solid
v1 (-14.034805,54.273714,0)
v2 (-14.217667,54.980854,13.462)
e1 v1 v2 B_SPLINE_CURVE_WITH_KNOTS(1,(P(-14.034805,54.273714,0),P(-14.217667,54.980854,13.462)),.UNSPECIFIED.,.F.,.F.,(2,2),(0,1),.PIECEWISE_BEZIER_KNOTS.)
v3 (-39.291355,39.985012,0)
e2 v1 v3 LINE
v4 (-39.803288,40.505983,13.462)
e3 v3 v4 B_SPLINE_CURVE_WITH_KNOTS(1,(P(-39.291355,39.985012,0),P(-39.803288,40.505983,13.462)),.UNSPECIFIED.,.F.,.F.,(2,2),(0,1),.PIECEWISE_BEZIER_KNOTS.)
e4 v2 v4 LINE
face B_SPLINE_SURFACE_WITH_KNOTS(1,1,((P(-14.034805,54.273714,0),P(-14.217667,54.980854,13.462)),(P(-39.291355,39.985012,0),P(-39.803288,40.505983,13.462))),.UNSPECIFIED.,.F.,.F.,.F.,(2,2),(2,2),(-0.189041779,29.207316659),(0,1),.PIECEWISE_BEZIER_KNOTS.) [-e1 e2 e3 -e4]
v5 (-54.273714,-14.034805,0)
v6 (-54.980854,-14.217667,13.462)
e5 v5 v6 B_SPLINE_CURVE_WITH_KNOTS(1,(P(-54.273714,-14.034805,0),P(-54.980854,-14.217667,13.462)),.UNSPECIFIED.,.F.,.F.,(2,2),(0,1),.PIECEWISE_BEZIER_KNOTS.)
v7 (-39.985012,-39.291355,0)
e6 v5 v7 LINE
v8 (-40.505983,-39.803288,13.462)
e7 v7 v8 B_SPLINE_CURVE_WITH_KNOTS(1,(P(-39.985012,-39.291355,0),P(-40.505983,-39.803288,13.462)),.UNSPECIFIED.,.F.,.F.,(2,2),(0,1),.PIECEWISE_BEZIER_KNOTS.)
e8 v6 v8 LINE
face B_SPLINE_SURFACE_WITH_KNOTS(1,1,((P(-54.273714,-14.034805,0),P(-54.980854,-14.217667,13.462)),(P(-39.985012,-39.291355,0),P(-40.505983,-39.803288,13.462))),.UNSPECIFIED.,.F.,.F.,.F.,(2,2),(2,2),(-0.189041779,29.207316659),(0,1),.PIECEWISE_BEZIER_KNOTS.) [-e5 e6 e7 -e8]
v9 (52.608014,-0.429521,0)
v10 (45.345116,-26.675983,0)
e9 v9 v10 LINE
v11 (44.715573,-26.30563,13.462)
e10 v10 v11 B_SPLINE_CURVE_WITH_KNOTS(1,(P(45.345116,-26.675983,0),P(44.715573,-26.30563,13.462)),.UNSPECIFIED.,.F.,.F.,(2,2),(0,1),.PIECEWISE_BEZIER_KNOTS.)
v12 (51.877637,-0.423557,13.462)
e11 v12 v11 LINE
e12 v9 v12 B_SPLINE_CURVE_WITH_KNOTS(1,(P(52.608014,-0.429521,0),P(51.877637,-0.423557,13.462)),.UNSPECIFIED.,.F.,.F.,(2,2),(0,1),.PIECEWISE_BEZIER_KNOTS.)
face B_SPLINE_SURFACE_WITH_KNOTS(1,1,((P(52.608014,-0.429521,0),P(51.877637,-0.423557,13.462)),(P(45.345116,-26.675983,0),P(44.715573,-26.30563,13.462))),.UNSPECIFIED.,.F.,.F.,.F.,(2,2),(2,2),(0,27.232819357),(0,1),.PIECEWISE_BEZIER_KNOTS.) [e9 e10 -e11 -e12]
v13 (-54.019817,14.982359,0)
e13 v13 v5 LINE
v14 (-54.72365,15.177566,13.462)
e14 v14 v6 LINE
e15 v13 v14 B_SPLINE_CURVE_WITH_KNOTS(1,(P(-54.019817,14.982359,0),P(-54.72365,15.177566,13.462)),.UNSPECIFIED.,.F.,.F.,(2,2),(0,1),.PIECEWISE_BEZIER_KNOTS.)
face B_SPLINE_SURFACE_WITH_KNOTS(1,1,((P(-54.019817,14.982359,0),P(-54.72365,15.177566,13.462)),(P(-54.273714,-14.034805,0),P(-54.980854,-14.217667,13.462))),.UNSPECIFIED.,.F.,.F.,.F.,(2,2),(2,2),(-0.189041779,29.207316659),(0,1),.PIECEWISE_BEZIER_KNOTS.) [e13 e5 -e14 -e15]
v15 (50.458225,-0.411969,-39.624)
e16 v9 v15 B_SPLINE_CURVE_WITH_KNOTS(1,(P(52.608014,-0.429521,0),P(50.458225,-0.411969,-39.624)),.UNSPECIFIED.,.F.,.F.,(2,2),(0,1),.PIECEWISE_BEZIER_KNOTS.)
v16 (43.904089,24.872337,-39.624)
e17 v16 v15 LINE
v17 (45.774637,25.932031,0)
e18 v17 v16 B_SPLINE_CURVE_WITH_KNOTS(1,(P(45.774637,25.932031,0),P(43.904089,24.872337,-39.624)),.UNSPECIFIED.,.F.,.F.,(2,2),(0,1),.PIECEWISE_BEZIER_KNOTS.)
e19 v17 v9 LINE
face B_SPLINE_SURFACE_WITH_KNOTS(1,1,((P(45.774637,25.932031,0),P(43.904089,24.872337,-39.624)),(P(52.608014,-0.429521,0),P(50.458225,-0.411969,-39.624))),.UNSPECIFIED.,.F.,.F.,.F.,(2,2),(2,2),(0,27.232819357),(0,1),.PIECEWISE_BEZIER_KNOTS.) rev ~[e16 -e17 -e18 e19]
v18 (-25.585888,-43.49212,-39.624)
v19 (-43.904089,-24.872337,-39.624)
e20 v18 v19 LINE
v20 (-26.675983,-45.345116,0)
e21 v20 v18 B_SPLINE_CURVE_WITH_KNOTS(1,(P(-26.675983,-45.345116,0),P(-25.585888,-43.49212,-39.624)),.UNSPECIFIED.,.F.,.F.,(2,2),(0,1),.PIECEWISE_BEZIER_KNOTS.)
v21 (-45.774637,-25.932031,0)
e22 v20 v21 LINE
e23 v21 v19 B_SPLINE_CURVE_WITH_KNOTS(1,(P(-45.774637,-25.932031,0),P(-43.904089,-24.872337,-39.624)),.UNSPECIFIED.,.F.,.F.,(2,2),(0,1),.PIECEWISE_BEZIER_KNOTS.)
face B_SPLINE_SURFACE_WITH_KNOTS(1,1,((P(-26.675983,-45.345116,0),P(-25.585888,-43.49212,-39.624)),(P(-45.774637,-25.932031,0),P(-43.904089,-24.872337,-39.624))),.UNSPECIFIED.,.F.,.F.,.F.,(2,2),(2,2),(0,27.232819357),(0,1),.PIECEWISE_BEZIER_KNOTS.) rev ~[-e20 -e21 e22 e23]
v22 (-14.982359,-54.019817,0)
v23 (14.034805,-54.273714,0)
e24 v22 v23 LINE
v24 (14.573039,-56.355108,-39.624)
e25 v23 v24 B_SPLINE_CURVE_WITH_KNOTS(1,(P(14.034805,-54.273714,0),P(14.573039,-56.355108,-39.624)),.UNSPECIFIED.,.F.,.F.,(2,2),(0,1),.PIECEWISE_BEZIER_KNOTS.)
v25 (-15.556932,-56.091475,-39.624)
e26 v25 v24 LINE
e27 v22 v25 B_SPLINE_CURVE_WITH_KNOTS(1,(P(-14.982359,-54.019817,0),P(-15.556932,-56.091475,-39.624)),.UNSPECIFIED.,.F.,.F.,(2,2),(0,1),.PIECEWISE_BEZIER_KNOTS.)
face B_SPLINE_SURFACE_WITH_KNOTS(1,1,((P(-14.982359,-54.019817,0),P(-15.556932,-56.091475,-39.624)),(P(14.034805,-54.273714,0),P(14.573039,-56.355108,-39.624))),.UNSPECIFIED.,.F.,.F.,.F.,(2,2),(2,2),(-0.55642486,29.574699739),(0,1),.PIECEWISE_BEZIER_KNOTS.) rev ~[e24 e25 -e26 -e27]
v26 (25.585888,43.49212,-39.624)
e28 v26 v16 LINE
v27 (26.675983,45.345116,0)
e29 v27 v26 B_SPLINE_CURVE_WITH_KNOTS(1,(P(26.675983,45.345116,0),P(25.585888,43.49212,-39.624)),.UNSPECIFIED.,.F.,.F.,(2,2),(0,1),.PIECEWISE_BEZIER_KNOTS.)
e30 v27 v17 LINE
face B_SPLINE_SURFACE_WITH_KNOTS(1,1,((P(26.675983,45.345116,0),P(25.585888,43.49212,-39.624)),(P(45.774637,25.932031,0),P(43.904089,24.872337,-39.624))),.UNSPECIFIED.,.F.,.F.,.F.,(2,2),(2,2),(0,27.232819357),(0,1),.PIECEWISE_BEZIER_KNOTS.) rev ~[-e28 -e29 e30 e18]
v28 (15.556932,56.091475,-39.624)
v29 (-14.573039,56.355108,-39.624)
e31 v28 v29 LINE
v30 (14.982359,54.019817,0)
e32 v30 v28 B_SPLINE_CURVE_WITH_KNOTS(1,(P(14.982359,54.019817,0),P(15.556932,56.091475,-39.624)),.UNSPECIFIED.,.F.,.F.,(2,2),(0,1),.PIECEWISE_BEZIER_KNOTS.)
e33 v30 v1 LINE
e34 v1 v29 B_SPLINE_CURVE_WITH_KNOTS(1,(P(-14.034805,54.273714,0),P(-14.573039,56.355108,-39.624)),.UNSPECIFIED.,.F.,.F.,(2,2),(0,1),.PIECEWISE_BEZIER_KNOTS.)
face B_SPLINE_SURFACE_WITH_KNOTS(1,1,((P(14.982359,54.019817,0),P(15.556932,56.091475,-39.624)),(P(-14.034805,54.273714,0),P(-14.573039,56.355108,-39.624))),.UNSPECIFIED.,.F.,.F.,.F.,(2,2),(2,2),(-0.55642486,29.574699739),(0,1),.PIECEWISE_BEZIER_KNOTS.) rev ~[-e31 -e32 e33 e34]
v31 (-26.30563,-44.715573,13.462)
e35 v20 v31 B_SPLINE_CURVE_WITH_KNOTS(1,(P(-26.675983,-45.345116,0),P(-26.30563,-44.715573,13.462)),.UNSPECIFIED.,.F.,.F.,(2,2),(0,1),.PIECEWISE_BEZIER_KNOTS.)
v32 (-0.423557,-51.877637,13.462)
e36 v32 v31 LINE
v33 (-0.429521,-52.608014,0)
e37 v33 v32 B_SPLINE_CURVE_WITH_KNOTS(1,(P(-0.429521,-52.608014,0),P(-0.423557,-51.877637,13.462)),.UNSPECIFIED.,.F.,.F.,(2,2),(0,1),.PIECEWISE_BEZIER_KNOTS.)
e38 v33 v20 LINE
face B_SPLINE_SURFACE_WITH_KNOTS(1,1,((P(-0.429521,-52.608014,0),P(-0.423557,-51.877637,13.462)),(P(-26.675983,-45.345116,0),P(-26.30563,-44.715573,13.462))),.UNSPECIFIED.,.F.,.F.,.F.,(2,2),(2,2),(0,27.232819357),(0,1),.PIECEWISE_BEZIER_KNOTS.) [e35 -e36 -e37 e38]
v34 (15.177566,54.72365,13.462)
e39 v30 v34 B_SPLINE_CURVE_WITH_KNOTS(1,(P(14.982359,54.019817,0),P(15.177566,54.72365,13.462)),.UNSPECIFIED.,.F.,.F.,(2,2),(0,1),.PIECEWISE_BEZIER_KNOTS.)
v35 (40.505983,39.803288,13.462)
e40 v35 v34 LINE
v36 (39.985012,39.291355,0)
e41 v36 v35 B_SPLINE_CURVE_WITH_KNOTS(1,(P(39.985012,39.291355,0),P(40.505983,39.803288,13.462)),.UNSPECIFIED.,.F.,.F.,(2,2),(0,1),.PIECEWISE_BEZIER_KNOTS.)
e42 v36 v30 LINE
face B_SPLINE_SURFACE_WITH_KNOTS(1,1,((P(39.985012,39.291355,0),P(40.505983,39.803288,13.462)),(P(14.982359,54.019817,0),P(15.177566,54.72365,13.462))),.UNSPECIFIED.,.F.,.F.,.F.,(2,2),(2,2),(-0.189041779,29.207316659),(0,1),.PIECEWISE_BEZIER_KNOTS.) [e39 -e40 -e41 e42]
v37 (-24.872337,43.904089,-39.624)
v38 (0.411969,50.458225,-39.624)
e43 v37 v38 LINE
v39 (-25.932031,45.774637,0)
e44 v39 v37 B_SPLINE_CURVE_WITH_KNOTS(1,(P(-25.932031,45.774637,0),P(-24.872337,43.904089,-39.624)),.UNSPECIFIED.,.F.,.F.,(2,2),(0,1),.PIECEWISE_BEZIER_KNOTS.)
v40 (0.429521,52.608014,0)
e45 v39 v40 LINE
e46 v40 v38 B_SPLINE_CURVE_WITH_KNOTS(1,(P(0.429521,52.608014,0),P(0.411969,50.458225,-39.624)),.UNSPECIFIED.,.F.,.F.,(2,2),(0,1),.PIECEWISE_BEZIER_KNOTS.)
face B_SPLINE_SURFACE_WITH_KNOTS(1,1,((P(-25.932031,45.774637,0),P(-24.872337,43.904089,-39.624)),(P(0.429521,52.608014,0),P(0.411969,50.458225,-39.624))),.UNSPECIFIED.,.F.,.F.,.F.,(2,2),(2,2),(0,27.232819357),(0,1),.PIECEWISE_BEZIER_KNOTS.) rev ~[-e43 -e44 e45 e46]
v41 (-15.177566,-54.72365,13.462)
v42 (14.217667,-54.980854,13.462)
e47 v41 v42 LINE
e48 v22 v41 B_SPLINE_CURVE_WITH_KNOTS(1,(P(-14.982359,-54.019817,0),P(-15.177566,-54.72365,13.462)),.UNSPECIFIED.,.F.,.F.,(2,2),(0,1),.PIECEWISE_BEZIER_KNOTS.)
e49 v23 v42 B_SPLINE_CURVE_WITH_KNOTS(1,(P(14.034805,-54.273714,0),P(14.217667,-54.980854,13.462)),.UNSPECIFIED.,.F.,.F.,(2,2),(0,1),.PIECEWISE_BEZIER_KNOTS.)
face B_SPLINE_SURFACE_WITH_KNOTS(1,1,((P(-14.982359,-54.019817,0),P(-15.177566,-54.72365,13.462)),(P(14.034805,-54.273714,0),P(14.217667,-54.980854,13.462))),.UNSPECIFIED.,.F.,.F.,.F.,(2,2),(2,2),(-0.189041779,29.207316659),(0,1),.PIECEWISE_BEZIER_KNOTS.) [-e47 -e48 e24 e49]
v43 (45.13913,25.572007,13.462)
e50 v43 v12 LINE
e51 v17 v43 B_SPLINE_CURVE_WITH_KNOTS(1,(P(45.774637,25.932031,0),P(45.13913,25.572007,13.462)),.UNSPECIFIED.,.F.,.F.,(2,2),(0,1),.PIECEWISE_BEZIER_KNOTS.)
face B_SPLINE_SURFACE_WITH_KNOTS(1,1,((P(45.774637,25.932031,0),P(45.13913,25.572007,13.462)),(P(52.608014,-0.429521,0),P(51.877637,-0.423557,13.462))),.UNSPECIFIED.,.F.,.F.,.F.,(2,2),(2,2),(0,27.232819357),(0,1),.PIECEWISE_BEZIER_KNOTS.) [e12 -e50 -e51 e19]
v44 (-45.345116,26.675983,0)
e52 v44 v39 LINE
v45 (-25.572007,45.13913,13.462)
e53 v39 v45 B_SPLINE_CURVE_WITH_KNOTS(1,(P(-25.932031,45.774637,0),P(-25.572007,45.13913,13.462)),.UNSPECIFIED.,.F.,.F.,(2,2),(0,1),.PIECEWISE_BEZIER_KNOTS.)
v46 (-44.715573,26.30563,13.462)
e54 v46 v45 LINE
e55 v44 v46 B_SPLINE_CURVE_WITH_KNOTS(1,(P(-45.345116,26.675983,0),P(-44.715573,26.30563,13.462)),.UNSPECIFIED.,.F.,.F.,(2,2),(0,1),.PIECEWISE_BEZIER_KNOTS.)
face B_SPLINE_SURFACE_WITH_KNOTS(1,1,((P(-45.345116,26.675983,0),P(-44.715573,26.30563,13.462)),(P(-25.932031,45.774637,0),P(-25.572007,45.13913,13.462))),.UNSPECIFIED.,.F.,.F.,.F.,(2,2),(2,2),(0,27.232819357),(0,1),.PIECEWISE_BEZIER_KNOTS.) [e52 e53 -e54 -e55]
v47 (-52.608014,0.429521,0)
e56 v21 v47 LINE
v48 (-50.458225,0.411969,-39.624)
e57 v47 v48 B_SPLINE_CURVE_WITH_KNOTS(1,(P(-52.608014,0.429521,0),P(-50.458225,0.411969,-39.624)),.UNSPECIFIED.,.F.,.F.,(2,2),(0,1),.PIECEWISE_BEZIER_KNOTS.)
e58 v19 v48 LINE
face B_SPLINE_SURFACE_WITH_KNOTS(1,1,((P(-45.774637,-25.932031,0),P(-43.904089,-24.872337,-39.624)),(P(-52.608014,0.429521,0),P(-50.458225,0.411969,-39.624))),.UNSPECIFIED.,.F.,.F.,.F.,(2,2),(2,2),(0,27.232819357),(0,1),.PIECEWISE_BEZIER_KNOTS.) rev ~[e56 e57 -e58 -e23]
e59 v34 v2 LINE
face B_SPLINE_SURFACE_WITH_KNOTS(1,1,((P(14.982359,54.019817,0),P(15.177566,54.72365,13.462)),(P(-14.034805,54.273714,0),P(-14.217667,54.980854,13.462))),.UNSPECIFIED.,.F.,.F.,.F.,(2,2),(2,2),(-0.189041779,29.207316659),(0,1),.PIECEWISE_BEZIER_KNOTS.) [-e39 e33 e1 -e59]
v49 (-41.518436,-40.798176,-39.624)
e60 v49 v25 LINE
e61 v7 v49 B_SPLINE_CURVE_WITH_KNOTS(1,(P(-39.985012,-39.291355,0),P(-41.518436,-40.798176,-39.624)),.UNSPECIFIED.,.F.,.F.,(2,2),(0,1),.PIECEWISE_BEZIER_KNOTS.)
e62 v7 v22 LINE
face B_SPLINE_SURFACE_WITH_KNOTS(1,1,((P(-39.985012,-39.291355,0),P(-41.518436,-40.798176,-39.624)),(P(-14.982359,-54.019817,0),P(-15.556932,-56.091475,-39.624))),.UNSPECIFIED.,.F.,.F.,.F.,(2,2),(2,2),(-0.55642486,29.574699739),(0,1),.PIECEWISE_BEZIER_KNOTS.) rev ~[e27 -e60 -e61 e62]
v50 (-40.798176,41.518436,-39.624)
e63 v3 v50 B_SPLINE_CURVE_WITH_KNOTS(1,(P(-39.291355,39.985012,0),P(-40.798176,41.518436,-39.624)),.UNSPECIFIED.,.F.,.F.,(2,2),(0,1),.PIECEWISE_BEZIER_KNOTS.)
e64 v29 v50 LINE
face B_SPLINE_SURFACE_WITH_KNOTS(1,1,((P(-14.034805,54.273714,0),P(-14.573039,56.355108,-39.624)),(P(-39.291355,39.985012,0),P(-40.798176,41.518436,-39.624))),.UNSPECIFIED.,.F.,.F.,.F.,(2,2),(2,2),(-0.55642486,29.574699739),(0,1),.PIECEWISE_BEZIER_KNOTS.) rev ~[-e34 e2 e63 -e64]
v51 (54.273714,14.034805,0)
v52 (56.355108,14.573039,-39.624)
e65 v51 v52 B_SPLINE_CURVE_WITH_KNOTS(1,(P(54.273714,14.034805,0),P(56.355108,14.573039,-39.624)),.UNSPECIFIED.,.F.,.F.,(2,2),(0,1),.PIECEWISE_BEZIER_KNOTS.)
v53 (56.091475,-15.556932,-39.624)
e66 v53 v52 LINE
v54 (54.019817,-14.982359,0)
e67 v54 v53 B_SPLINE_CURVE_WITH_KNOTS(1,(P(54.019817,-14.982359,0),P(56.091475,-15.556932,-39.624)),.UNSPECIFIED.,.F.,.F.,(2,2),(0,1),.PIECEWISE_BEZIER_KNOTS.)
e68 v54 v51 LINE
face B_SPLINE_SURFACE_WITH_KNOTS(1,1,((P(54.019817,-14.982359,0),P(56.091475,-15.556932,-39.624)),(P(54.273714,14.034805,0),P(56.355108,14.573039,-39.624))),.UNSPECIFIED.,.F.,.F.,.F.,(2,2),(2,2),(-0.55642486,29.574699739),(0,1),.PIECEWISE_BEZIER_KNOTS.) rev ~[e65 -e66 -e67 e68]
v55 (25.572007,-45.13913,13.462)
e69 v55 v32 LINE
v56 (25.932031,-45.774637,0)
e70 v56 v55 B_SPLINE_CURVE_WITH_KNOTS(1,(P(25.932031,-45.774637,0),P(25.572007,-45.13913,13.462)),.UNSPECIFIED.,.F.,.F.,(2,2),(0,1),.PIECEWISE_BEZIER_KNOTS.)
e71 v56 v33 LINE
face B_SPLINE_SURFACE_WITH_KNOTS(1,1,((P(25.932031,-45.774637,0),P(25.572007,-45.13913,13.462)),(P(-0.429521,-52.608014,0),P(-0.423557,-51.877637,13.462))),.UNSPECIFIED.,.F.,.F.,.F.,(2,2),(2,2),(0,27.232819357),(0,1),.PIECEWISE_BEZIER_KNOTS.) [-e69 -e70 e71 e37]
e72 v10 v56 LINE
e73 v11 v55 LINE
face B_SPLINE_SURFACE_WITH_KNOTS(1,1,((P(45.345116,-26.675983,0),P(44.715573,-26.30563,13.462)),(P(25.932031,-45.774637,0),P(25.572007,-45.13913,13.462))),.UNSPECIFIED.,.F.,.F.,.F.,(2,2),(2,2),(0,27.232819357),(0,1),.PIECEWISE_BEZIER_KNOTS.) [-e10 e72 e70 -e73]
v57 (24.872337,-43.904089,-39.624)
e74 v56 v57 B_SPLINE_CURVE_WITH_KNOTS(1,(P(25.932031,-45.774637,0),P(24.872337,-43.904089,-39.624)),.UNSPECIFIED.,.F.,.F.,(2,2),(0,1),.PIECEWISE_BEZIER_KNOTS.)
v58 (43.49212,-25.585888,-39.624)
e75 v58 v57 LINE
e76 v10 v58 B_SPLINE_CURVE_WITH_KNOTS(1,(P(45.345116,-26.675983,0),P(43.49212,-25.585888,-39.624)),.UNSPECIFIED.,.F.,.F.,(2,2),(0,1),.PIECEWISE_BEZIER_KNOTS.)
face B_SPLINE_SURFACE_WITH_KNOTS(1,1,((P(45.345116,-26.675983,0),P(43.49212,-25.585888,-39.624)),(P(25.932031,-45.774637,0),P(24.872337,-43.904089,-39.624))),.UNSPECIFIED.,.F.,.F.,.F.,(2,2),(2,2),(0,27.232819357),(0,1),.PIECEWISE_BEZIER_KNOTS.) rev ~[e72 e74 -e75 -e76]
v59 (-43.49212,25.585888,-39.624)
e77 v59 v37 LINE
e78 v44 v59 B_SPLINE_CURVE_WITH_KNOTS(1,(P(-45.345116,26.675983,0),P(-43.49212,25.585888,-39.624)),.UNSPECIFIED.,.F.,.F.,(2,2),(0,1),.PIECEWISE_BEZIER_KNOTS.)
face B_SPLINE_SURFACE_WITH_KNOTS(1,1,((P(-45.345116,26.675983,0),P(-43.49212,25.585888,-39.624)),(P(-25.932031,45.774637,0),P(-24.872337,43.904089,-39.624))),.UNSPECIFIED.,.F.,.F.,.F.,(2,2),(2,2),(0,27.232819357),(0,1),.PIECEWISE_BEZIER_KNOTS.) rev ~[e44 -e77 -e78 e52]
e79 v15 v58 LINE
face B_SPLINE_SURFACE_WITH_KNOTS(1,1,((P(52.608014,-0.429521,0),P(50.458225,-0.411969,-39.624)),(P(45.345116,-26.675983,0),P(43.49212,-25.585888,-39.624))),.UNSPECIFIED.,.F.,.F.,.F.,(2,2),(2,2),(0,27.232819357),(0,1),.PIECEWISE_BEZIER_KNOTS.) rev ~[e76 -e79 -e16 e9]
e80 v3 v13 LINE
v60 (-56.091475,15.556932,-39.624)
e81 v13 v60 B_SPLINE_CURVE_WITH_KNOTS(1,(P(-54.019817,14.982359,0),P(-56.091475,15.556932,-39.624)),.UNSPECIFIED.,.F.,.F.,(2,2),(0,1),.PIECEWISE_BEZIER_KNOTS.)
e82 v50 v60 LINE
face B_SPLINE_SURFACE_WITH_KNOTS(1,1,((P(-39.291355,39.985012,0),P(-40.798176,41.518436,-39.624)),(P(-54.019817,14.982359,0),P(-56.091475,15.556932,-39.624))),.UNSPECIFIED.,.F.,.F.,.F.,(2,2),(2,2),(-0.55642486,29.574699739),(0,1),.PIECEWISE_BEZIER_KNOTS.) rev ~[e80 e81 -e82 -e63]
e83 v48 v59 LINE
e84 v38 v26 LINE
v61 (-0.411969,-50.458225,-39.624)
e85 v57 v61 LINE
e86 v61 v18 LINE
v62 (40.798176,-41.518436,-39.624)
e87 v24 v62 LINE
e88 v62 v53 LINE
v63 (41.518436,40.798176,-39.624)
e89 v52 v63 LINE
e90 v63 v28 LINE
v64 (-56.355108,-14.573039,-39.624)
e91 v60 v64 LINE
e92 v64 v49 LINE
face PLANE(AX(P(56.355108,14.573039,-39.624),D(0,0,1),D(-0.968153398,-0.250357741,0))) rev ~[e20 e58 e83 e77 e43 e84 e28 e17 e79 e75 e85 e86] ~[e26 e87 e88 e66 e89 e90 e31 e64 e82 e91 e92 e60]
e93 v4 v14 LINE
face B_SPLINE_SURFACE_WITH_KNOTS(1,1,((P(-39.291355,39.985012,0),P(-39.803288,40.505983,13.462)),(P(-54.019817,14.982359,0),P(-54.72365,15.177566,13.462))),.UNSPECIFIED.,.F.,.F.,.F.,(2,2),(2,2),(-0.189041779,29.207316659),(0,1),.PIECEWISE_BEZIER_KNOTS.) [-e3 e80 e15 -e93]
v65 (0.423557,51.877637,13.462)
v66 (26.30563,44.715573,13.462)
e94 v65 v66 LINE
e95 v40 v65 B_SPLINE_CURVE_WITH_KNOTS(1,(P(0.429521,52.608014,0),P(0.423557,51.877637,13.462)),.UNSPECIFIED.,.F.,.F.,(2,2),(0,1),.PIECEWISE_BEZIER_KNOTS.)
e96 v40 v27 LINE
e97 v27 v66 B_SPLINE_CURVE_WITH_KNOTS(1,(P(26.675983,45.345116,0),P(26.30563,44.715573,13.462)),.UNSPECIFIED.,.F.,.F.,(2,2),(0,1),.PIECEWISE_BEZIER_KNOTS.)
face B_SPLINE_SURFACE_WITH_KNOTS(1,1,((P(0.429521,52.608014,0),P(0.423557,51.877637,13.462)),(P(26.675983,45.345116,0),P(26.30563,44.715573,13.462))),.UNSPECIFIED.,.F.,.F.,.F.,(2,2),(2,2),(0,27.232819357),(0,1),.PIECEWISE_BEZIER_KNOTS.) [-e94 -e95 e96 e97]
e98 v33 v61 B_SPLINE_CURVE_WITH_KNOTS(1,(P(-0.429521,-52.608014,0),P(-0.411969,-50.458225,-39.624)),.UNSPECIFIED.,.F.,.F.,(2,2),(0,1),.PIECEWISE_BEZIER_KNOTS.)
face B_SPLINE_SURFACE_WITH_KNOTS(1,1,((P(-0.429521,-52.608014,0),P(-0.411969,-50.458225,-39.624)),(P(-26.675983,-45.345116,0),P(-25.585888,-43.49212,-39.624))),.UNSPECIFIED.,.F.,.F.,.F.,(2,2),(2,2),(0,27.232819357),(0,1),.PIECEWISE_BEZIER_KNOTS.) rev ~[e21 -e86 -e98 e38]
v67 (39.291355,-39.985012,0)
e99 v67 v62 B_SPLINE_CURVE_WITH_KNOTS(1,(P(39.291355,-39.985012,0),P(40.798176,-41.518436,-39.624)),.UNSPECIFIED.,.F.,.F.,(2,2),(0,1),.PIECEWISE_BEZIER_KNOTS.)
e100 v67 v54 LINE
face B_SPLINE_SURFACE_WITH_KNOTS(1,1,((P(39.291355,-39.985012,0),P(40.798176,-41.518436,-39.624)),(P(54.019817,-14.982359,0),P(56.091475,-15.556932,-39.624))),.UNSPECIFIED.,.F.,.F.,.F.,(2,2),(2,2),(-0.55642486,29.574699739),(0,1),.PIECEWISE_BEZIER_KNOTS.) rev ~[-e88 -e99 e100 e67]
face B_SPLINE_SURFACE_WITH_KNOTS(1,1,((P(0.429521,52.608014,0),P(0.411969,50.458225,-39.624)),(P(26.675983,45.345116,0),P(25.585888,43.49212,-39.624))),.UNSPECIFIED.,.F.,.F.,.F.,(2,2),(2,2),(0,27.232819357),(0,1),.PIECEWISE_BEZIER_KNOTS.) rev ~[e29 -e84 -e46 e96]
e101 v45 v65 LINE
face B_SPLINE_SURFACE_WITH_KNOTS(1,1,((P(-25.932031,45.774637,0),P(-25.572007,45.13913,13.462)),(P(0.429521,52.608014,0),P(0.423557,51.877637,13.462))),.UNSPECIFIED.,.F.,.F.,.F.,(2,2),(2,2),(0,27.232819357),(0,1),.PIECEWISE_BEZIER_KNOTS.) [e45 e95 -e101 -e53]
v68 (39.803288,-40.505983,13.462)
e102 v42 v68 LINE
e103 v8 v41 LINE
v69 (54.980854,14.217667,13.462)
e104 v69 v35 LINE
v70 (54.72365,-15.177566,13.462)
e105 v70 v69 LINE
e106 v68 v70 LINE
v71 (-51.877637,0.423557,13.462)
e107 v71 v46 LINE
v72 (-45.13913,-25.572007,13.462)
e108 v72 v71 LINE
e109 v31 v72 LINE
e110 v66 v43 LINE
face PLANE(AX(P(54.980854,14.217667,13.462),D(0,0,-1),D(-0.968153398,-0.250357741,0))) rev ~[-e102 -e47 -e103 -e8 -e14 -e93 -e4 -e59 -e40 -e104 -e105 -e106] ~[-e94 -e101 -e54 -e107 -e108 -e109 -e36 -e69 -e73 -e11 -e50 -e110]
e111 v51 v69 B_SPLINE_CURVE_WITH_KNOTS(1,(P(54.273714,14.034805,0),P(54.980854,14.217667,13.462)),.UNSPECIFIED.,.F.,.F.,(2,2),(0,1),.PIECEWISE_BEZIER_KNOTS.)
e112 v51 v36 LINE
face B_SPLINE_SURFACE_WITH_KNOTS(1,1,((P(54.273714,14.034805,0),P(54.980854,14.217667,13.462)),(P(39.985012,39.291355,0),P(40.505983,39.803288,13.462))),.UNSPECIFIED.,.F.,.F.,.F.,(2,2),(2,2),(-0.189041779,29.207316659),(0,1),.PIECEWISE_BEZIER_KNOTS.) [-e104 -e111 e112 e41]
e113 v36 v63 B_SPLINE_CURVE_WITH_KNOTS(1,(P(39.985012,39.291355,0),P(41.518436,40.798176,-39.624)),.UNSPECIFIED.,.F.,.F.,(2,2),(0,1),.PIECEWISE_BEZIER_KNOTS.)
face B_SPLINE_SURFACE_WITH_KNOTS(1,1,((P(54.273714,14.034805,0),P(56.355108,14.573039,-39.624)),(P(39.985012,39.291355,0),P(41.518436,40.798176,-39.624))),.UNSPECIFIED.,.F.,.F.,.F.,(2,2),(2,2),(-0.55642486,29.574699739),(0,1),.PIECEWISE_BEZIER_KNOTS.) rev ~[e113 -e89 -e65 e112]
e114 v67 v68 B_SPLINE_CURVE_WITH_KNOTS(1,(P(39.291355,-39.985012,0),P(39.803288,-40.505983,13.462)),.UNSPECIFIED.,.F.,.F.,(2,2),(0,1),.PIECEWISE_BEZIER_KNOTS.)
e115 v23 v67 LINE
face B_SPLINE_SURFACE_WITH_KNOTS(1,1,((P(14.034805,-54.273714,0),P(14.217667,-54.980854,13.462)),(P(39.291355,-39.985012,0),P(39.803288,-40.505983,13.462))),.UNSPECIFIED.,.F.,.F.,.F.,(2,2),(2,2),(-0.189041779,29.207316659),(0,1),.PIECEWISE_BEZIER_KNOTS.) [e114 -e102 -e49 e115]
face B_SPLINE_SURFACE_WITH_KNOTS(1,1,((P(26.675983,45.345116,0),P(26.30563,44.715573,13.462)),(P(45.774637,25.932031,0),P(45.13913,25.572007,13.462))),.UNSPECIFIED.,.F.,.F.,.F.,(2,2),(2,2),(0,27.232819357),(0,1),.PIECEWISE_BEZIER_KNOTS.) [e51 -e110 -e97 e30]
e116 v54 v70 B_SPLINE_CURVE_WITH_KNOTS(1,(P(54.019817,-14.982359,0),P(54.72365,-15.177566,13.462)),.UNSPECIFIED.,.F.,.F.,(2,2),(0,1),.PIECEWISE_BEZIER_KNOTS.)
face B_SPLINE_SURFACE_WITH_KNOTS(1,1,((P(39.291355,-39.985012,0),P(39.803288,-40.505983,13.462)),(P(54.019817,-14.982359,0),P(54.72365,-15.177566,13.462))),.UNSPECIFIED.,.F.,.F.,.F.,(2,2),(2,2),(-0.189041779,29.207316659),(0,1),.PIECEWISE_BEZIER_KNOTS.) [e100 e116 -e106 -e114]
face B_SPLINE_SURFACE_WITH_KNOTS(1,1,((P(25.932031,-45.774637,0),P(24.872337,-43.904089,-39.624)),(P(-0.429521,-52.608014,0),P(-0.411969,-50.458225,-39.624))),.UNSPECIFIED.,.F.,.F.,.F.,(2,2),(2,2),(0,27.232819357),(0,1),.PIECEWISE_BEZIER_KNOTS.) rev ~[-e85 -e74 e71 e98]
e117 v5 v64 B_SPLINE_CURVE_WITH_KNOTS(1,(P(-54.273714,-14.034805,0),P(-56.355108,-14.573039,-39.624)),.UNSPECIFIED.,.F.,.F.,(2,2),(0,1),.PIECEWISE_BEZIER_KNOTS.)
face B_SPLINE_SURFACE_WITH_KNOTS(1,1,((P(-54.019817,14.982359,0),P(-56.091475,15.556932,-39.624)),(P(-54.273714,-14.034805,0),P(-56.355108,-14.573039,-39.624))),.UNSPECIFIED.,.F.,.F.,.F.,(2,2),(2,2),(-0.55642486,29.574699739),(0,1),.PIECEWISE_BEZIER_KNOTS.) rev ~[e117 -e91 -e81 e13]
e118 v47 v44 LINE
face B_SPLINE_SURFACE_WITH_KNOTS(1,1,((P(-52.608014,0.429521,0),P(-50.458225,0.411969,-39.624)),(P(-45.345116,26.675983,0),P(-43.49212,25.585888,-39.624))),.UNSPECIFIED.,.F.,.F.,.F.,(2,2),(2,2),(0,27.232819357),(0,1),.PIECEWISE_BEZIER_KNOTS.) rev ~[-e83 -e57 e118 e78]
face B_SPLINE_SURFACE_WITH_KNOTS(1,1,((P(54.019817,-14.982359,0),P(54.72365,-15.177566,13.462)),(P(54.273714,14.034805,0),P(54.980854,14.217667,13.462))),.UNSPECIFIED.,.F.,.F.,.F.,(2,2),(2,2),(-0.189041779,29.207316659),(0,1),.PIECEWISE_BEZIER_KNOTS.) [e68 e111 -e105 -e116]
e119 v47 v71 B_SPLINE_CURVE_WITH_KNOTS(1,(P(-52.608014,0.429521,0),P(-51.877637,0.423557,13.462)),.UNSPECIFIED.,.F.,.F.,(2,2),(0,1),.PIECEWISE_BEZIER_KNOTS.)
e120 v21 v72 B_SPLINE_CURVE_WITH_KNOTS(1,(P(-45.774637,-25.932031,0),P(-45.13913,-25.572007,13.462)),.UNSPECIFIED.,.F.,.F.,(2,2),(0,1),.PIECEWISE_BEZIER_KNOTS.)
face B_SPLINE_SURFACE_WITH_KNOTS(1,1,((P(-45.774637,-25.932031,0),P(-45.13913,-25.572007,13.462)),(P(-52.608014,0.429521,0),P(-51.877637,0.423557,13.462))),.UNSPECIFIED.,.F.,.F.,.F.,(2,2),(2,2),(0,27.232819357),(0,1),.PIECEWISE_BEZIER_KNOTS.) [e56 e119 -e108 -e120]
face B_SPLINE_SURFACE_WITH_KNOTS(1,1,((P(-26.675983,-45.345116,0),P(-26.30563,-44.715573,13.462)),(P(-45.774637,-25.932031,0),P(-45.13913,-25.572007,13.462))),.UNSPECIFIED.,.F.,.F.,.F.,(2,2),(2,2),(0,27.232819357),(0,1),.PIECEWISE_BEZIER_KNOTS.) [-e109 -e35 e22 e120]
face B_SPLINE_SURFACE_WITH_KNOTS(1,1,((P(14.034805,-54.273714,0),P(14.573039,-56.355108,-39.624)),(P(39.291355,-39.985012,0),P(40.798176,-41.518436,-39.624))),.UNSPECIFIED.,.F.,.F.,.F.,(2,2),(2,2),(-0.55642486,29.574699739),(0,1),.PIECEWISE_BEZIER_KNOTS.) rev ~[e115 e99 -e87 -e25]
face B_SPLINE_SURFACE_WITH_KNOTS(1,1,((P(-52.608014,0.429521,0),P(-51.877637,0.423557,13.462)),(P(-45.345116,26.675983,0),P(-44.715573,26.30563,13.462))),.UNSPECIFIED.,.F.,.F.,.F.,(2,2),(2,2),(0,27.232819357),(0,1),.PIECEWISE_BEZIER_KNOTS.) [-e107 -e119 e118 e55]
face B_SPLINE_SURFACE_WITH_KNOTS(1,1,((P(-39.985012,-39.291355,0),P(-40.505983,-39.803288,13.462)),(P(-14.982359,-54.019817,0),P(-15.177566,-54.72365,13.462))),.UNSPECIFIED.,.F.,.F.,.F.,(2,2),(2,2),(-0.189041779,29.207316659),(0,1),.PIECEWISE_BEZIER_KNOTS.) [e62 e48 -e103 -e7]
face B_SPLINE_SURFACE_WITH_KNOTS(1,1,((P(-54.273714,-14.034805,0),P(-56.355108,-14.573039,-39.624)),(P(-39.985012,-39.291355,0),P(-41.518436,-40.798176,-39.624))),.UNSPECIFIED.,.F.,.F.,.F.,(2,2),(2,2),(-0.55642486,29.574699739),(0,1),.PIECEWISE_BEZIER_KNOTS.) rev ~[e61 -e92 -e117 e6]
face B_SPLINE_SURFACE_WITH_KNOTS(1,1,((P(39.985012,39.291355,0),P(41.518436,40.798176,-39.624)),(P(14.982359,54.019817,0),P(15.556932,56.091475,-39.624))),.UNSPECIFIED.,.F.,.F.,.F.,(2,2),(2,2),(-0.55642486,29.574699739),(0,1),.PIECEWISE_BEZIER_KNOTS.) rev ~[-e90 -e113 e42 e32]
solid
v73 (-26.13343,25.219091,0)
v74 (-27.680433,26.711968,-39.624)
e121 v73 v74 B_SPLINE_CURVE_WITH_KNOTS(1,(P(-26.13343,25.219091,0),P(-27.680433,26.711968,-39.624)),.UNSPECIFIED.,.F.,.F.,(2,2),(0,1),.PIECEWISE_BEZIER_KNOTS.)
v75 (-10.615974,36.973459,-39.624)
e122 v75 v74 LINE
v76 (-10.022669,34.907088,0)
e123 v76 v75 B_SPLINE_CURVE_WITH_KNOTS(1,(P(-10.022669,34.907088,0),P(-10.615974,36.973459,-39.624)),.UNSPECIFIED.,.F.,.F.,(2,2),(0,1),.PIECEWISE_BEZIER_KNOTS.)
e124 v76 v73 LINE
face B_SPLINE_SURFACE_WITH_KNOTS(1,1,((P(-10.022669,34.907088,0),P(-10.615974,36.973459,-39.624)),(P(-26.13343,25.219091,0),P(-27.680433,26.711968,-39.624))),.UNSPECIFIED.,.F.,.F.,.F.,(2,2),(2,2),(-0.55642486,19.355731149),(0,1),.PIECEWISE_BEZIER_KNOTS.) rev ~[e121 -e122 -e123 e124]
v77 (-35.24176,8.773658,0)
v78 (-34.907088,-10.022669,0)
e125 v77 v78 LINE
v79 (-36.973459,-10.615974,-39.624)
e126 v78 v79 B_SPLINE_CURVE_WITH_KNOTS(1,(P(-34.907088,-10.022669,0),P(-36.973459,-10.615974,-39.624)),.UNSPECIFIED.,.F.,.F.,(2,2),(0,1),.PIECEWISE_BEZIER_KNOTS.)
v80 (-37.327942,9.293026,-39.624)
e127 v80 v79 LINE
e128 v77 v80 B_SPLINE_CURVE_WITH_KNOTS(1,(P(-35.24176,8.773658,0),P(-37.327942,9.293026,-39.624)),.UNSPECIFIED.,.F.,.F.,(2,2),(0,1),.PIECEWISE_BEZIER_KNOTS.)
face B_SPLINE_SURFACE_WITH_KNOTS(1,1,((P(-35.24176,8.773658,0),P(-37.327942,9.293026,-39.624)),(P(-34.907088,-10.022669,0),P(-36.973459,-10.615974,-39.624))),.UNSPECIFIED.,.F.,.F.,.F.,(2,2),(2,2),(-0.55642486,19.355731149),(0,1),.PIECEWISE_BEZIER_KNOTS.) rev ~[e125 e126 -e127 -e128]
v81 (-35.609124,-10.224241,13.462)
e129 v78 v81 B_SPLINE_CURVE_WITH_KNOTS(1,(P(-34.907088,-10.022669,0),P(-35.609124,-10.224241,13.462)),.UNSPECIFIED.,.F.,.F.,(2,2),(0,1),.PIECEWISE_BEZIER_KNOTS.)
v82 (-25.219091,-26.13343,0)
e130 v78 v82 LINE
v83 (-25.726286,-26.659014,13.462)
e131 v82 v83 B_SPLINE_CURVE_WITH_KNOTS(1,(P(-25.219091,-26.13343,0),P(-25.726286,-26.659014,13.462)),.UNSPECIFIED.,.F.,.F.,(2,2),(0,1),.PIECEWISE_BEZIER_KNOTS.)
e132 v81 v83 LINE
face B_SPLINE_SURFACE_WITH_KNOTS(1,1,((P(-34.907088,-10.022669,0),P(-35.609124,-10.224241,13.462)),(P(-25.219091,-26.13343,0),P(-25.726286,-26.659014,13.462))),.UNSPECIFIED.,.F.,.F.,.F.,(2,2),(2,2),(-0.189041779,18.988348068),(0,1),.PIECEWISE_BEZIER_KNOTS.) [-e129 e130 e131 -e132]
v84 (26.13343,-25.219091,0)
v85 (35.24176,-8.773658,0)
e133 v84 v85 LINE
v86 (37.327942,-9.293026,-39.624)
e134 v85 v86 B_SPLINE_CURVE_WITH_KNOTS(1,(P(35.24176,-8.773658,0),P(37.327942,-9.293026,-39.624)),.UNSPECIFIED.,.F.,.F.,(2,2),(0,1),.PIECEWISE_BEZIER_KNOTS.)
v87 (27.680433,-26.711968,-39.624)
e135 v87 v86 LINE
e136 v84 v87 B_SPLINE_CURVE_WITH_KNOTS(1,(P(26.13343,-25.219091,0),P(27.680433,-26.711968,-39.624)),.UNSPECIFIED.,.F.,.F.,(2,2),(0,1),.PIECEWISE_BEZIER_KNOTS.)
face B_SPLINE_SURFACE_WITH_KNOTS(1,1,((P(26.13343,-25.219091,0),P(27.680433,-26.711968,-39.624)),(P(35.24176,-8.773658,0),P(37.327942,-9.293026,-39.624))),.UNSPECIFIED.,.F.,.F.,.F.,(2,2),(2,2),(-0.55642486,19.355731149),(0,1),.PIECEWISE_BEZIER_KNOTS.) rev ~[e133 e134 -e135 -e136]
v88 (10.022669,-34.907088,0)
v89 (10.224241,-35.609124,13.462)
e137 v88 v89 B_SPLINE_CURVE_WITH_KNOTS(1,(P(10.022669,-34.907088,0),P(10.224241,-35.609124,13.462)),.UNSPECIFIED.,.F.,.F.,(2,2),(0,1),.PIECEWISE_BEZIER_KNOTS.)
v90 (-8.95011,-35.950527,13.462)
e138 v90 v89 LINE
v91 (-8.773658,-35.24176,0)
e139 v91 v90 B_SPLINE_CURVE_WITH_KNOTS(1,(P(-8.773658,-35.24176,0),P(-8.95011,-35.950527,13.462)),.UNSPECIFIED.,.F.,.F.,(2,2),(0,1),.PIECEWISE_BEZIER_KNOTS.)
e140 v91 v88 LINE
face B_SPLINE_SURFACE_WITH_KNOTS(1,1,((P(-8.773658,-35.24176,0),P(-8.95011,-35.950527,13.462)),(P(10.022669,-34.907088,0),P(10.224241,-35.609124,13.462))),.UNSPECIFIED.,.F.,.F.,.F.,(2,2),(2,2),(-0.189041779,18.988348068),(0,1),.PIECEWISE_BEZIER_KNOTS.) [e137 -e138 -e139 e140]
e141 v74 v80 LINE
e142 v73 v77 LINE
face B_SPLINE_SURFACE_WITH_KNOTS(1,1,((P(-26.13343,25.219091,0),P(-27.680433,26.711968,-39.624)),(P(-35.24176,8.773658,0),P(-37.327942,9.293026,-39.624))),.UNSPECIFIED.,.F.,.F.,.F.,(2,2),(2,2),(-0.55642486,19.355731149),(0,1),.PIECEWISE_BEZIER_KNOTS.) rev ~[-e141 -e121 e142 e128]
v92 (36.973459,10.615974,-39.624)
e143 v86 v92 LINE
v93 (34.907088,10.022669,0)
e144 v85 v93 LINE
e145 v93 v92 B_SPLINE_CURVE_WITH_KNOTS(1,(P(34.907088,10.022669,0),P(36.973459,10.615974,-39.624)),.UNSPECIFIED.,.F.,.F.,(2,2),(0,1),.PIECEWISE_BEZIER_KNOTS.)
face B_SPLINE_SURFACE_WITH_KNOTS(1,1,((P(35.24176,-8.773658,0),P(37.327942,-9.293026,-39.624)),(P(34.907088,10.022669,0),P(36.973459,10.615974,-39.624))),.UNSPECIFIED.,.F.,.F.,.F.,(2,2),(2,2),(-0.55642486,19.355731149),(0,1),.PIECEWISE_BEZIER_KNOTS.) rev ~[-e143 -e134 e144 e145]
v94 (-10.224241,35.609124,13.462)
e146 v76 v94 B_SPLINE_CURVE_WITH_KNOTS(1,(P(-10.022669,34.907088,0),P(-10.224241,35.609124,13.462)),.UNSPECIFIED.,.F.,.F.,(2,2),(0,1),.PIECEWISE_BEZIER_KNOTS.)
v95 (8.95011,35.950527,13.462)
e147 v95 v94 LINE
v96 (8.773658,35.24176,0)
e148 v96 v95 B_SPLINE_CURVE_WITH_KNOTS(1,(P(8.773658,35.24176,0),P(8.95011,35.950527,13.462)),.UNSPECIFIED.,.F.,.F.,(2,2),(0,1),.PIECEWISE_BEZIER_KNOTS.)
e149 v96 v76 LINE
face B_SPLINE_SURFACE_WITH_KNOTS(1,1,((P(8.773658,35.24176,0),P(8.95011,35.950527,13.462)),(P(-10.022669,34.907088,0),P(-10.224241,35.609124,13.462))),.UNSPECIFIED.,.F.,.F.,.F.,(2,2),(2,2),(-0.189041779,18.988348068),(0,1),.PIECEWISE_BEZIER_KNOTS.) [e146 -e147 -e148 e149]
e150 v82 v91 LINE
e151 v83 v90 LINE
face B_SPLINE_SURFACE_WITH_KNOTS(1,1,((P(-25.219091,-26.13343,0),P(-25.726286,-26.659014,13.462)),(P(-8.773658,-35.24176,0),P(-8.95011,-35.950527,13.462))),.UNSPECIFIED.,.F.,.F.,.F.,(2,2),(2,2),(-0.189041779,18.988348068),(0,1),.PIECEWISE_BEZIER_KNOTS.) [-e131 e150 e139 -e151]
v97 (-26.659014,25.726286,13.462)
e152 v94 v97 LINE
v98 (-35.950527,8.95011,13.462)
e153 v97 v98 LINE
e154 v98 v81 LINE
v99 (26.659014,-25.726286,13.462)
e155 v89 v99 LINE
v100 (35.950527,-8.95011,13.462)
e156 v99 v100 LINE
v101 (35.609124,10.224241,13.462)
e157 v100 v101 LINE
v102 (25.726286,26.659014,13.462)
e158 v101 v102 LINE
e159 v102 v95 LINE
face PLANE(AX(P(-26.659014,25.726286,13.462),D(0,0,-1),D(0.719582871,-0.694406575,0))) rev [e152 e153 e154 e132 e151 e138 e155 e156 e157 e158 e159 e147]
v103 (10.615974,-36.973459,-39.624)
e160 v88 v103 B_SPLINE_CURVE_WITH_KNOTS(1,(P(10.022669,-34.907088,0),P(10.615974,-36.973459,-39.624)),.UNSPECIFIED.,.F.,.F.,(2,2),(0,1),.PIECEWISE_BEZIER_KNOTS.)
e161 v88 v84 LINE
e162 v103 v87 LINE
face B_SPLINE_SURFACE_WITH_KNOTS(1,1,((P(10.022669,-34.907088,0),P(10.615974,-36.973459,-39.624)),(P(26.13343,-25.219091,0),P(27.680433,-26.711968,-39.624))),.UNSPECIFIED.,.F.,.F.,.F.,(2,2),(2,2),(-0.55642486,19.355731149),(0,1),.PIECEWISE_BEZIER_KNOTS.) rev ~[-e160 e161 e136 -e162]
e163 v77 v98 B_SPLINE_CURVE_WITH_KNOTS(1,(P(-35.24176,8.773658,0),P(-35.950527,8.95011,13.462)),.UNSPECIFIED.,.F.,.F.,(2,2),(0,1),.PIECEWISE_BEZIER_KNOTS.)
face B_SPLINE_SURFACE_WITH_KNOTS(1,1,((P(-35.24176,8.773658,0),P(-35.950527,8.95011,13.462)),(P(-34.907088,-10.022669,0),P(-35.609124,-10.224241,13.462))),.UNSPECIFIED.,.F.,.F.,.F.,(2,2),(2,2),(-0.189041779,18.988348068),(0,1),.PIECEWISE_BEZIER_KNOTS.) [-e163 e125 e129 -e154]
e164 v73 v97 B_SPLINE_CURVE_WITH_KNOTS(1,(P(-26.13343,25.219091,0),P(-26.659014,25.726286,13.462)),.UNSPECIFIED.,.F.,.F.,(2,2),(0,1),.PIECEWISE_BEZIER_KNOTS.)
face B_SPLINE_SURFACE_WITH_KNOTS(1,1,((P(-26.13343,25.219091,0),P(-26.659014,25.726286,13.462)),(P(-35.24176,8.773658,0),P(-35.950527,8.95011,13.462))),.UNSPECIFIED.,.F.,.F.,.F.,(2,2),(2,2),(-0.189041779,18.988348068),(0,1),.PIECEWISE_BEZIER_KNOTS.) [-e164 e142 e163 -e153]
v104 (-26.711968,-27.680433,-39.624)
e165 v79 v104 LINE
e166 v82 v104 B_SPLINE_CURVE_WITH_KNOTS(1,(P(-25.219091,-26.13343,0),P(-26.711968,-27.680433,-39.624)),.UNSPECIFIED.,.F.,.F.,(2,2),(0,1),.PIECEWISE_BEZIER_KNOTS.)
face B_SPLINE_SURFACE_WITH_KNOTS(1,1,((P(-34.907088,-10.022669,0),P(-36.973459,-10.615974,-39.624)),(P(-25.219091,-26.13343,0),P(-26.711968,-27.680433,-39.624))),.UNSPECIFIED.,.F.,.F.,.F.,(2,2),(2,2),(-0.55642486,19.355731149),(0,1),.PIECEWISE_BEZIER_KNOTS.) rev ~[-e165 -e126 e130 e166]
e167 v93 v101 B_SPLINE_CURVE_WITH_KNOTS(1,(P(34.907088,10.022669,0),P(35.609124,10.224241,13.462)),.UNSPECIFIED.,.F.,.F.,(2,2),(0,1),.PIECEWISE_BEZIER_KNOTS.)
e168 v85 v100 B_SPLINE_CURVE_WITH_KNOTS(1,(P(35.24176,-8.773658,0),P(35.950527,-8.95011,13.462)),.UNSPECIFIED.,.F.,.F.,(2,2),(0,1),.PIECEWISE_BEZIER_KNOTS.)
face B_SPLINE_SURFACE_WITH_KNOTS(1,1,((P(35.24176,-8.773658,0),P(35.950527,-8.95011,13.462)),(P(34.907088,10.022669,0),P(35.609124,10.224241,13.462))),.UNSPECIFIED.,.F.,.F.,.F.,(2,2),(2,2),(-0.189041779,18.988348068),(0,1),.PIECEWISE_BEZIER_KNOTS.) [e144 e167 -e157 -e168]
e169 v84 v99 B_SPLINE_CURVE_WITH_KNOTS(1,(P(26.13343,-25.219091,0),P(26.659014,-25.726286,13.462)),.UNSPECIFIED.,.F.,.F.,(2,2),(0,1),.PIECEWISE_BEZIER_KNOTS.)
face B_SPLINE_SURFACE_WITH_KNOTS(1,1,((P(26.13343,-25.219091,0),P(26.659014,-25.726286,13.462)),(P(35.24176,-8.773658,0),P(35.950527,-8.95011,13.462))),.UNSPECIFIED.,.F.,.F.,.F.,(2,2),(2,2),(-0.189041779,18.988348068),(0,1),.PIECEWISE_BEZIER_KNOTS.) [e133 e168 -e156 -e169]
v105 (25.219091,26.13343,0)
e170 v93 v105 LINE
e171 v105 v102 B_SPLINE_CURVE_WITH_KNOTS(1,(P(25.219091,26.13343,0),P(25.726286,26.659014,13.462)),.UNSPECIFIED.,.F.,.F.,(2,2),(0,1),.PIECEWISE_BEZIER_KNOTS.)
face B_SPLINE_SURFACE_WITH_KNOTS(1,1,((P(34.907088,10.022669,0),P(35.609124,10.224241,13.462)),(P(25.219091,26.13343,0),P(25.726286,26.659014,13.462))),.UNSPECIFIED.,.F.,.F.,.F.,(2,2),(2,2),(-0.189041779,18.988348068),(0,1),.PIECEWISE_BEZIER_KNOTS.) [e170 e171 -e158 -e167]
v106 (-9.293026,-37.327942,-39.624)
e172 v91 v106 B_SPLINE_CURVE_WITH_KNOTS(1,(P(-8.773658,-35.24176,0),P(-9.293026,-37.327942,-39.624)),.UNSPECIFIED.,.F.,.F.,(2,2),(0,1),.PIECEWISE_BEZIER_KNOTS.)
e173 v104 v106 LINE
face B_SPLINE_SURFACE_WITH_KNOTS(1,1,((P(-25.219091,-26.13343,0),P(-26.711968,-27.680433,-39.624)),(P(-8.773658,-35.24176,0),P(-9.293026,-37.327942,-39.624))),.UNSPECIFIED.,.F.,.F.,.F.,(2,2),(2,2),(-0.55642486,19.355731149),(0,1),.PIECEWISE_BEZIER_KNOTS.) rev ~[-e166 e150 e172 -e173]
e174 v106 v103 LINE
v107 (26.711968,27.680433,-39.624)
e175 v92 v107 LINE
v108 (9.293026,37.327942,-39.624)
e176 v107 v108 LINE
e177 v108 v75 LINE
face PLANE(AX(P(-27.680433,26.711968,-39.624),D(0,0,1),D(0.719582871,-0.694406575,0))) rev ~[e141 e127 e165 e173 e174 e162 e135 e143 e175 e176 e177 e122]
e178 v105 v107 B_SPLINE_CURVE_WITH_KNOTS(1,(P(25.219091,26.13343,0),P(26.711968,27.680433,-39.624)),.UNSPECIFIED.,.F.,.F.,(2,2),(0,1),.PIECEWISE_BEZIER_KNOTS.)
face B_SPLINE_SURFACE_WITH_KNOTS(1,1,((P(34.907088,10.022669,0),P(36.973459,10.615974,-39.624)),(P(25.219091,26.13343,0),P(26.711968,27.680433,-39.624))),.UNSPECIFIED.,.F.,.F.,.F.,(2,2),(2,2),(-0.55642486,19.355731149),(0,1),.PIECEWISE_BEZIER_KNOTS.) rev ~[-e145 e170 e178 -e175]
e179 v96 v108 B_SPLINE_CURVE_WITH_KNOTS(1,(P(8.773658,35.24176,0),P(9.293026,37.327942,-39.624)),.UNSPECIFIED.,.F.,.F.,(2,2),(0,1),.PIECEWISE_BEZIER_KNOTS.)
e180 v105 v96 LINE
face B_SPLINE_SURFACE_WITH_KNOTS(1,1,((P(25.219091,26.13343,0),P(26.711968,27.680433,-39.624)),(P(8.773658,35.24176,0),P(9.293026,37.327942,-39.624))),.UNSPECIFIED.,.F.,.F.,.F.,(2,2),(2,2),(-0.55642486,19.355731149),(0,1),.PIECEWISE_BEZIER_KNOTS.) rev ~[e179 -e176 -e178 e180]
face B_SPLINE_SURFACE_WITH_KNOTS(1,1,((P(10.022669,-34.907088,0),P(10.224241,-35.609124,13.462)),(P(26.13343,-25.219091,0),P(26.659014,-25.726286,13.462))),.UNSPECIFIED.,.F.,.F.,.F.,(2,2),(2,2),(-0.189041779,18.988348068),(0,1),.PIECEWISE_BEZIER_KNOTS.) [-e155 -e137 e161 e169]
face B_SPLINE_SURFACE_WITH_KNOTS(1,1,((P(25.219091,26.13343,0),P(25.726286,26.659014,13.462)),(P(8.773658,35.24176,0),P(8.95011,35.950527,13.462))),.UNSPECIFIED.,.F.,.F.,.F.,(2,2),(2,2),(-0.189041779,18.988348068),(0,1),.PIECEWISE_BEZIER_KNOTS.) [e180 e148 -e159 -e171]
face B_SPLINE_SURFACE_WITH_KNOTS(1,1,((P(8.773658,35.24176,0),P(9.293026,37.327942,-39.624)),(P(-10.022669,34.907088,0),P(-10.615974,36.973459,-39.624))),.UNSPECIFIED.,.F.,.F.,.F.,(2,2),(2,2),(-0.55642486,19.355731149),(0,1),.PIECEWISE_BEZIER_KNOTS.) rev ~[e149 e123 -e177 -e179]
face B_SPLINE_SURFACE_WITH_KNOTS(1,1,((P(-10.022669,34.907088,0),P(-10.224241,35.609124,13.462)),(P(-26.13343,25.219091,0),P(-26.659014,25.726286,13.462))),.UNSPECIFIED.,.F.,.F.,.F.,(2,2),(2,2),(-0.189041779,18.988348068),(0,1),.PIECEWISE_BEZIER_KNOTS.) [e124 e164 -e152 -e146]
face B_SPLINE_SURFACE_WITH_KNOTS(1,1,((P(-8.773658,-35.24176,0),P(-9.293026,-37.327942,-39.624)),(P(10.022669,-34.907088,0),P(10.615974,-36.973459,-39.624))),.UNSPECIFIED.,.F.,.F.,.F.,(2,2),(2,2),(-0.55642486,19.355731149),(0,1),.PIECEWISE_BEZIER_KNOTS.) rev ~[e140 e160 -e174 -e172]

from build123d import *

# Parameters (mm, degrees)
F1_DEPTH      = 13.462
F1_TAPER      = -3
F1_DEPTH_BACK = 39.624
F1_TAPER_BACK = -3


with BuildPart() as f1:
    # F0 (on Top) → F1 (new body, two sides)
    with BuildSketch(Plane.XY) as f1_sk:
        Polygon((54.2737135372, 14.03480515), (39.9850121059, 39.2913545657), (14.9823589715, 54.0198172559), (-14.03480515, 54.2737135372), (-39.2913545657, 39.9850121059), (-54.0198172559, 14.9823589715), (-54.2737135372, -14.03480515), (-39.9850121059, -39.2913545657), (-14.9823589715, -54.0198172559), (14.03480515, -54.2737135372), (39.2913545657, -39.9850121059), (54.0198172559, -14.9823589715), align=None)
        Polygon((26.6759825885, 45.3451159994), (45.7746365922, 25.9320310988), (52.6080136872, -0.4295205929), (45.3451159994, -26.6759825885), (25.9320310988, -45.7746365922), (-0.4295205929, -52.6080136872), (-26.6759825885, -45.3451159994), (-45.7746365922, -25.9320310988), (-52.6080136872, 0.4295205929), (-45.3451159994, 26.6759825885), (-25.9320310988, 45.7746365922), (0.4295205929, 52.6080136872), align=None, mode=Mode.SUBTRACT)
    extrude(amount=F1_DEPTH, taper=F1_TAPER)
    extrude(f1_sk.sketch, amount=-F1_DEPTH_BACK, taper=F1_TAPER_BACK)


with BuildPart() as f1b:
    # F0 (on Top) → F1, piece 2 (new body, two sides)
    with BuildSketch(Plane.XY) as f1_2_sk:
        Polygon((-26.1334300039, 25.2190905944), (-35.2417595686, 8.7736581131), (-34.9070881171, -10.0226689742), (-25.2190905944, -26.1334300039), (-8.7736581131, -35.2417595686), (10.0226689742, -34.9070881171), (26.1334300039, -25.2190905944), (35.2417595686, -8.7736581131), (34.9070881171, 10.0226689742), (25.2190905944, 26.1334300039), (8.7736581131, 35.2417595686), (-10.0226689742, 34.9070881171), align=None)
        Polygon((-33.5784053399, 0), (-16.7892026699, 29.0797520429), (16.7892026699, 29.0797520429), (33.5784053399, 0), (16.7892026699, -29.0797520429), (-16.7892026699, -29.0797520429), align=None, mode=Mode.SUBTRACT)
        Polygon((16.7892026699, 29.0797520429), (-16.7892026699, 29.0797520429), (-33.5784053399, 0), (-16.7892026699, -29.0797520429), (16.7892026699, -29.0797520429), (33.5784053399, 0), align=None)
        Polygon((-23.5324761021, -13.6692839848), (-23.6041852334, 13.545080126), (-0.0717091313, 27.2143641108), (23.5324761021, 13.6692839848), (23.6041852334, -13.545080126), (0.0717091313, -27.2143641108), align=None, mode=Mode.SUBTRACT)
        Polygon((-0.0717091313, 27.2143641108), (-23.6041852334, 13.545080126), (-23.5324761021, -13.6692839848), (0.0717091313, -27.2143641108), (23.6041852334, -13.545080126), (23.5324761021, 13.6692839848), align=None)
        Polygon((-10.1378994835, 19.2613495842), (11.6118683093, 18.4103532858), (21.7497677929, -0.8509962984), (10.1378994835, -19.2613495842), (-11.6118683093, -18.4103532858), (-21.7497677929, 0.8509962984), align=None, mode=Mode.SUBTRACT)
        Polygon((21.7497677929, -0.8509962984), (11.6118683093, 18.4103532858), (-10.1378994835, 19.2613495842), (-21.7497677929, 0.8509962984), (-11.6118683093, -18.4103532858), (10.1378994835, -19.2613495842), align=None)
    extrude(amount=F1_DEPTH, taper=F1_TAPER)
    extrude(f1_2_sk.sketch, amount=-F1_DEPTH_BACK, taper=F1_TAPER_BACK)


solid = Compound([f1.part, f1b.part])
